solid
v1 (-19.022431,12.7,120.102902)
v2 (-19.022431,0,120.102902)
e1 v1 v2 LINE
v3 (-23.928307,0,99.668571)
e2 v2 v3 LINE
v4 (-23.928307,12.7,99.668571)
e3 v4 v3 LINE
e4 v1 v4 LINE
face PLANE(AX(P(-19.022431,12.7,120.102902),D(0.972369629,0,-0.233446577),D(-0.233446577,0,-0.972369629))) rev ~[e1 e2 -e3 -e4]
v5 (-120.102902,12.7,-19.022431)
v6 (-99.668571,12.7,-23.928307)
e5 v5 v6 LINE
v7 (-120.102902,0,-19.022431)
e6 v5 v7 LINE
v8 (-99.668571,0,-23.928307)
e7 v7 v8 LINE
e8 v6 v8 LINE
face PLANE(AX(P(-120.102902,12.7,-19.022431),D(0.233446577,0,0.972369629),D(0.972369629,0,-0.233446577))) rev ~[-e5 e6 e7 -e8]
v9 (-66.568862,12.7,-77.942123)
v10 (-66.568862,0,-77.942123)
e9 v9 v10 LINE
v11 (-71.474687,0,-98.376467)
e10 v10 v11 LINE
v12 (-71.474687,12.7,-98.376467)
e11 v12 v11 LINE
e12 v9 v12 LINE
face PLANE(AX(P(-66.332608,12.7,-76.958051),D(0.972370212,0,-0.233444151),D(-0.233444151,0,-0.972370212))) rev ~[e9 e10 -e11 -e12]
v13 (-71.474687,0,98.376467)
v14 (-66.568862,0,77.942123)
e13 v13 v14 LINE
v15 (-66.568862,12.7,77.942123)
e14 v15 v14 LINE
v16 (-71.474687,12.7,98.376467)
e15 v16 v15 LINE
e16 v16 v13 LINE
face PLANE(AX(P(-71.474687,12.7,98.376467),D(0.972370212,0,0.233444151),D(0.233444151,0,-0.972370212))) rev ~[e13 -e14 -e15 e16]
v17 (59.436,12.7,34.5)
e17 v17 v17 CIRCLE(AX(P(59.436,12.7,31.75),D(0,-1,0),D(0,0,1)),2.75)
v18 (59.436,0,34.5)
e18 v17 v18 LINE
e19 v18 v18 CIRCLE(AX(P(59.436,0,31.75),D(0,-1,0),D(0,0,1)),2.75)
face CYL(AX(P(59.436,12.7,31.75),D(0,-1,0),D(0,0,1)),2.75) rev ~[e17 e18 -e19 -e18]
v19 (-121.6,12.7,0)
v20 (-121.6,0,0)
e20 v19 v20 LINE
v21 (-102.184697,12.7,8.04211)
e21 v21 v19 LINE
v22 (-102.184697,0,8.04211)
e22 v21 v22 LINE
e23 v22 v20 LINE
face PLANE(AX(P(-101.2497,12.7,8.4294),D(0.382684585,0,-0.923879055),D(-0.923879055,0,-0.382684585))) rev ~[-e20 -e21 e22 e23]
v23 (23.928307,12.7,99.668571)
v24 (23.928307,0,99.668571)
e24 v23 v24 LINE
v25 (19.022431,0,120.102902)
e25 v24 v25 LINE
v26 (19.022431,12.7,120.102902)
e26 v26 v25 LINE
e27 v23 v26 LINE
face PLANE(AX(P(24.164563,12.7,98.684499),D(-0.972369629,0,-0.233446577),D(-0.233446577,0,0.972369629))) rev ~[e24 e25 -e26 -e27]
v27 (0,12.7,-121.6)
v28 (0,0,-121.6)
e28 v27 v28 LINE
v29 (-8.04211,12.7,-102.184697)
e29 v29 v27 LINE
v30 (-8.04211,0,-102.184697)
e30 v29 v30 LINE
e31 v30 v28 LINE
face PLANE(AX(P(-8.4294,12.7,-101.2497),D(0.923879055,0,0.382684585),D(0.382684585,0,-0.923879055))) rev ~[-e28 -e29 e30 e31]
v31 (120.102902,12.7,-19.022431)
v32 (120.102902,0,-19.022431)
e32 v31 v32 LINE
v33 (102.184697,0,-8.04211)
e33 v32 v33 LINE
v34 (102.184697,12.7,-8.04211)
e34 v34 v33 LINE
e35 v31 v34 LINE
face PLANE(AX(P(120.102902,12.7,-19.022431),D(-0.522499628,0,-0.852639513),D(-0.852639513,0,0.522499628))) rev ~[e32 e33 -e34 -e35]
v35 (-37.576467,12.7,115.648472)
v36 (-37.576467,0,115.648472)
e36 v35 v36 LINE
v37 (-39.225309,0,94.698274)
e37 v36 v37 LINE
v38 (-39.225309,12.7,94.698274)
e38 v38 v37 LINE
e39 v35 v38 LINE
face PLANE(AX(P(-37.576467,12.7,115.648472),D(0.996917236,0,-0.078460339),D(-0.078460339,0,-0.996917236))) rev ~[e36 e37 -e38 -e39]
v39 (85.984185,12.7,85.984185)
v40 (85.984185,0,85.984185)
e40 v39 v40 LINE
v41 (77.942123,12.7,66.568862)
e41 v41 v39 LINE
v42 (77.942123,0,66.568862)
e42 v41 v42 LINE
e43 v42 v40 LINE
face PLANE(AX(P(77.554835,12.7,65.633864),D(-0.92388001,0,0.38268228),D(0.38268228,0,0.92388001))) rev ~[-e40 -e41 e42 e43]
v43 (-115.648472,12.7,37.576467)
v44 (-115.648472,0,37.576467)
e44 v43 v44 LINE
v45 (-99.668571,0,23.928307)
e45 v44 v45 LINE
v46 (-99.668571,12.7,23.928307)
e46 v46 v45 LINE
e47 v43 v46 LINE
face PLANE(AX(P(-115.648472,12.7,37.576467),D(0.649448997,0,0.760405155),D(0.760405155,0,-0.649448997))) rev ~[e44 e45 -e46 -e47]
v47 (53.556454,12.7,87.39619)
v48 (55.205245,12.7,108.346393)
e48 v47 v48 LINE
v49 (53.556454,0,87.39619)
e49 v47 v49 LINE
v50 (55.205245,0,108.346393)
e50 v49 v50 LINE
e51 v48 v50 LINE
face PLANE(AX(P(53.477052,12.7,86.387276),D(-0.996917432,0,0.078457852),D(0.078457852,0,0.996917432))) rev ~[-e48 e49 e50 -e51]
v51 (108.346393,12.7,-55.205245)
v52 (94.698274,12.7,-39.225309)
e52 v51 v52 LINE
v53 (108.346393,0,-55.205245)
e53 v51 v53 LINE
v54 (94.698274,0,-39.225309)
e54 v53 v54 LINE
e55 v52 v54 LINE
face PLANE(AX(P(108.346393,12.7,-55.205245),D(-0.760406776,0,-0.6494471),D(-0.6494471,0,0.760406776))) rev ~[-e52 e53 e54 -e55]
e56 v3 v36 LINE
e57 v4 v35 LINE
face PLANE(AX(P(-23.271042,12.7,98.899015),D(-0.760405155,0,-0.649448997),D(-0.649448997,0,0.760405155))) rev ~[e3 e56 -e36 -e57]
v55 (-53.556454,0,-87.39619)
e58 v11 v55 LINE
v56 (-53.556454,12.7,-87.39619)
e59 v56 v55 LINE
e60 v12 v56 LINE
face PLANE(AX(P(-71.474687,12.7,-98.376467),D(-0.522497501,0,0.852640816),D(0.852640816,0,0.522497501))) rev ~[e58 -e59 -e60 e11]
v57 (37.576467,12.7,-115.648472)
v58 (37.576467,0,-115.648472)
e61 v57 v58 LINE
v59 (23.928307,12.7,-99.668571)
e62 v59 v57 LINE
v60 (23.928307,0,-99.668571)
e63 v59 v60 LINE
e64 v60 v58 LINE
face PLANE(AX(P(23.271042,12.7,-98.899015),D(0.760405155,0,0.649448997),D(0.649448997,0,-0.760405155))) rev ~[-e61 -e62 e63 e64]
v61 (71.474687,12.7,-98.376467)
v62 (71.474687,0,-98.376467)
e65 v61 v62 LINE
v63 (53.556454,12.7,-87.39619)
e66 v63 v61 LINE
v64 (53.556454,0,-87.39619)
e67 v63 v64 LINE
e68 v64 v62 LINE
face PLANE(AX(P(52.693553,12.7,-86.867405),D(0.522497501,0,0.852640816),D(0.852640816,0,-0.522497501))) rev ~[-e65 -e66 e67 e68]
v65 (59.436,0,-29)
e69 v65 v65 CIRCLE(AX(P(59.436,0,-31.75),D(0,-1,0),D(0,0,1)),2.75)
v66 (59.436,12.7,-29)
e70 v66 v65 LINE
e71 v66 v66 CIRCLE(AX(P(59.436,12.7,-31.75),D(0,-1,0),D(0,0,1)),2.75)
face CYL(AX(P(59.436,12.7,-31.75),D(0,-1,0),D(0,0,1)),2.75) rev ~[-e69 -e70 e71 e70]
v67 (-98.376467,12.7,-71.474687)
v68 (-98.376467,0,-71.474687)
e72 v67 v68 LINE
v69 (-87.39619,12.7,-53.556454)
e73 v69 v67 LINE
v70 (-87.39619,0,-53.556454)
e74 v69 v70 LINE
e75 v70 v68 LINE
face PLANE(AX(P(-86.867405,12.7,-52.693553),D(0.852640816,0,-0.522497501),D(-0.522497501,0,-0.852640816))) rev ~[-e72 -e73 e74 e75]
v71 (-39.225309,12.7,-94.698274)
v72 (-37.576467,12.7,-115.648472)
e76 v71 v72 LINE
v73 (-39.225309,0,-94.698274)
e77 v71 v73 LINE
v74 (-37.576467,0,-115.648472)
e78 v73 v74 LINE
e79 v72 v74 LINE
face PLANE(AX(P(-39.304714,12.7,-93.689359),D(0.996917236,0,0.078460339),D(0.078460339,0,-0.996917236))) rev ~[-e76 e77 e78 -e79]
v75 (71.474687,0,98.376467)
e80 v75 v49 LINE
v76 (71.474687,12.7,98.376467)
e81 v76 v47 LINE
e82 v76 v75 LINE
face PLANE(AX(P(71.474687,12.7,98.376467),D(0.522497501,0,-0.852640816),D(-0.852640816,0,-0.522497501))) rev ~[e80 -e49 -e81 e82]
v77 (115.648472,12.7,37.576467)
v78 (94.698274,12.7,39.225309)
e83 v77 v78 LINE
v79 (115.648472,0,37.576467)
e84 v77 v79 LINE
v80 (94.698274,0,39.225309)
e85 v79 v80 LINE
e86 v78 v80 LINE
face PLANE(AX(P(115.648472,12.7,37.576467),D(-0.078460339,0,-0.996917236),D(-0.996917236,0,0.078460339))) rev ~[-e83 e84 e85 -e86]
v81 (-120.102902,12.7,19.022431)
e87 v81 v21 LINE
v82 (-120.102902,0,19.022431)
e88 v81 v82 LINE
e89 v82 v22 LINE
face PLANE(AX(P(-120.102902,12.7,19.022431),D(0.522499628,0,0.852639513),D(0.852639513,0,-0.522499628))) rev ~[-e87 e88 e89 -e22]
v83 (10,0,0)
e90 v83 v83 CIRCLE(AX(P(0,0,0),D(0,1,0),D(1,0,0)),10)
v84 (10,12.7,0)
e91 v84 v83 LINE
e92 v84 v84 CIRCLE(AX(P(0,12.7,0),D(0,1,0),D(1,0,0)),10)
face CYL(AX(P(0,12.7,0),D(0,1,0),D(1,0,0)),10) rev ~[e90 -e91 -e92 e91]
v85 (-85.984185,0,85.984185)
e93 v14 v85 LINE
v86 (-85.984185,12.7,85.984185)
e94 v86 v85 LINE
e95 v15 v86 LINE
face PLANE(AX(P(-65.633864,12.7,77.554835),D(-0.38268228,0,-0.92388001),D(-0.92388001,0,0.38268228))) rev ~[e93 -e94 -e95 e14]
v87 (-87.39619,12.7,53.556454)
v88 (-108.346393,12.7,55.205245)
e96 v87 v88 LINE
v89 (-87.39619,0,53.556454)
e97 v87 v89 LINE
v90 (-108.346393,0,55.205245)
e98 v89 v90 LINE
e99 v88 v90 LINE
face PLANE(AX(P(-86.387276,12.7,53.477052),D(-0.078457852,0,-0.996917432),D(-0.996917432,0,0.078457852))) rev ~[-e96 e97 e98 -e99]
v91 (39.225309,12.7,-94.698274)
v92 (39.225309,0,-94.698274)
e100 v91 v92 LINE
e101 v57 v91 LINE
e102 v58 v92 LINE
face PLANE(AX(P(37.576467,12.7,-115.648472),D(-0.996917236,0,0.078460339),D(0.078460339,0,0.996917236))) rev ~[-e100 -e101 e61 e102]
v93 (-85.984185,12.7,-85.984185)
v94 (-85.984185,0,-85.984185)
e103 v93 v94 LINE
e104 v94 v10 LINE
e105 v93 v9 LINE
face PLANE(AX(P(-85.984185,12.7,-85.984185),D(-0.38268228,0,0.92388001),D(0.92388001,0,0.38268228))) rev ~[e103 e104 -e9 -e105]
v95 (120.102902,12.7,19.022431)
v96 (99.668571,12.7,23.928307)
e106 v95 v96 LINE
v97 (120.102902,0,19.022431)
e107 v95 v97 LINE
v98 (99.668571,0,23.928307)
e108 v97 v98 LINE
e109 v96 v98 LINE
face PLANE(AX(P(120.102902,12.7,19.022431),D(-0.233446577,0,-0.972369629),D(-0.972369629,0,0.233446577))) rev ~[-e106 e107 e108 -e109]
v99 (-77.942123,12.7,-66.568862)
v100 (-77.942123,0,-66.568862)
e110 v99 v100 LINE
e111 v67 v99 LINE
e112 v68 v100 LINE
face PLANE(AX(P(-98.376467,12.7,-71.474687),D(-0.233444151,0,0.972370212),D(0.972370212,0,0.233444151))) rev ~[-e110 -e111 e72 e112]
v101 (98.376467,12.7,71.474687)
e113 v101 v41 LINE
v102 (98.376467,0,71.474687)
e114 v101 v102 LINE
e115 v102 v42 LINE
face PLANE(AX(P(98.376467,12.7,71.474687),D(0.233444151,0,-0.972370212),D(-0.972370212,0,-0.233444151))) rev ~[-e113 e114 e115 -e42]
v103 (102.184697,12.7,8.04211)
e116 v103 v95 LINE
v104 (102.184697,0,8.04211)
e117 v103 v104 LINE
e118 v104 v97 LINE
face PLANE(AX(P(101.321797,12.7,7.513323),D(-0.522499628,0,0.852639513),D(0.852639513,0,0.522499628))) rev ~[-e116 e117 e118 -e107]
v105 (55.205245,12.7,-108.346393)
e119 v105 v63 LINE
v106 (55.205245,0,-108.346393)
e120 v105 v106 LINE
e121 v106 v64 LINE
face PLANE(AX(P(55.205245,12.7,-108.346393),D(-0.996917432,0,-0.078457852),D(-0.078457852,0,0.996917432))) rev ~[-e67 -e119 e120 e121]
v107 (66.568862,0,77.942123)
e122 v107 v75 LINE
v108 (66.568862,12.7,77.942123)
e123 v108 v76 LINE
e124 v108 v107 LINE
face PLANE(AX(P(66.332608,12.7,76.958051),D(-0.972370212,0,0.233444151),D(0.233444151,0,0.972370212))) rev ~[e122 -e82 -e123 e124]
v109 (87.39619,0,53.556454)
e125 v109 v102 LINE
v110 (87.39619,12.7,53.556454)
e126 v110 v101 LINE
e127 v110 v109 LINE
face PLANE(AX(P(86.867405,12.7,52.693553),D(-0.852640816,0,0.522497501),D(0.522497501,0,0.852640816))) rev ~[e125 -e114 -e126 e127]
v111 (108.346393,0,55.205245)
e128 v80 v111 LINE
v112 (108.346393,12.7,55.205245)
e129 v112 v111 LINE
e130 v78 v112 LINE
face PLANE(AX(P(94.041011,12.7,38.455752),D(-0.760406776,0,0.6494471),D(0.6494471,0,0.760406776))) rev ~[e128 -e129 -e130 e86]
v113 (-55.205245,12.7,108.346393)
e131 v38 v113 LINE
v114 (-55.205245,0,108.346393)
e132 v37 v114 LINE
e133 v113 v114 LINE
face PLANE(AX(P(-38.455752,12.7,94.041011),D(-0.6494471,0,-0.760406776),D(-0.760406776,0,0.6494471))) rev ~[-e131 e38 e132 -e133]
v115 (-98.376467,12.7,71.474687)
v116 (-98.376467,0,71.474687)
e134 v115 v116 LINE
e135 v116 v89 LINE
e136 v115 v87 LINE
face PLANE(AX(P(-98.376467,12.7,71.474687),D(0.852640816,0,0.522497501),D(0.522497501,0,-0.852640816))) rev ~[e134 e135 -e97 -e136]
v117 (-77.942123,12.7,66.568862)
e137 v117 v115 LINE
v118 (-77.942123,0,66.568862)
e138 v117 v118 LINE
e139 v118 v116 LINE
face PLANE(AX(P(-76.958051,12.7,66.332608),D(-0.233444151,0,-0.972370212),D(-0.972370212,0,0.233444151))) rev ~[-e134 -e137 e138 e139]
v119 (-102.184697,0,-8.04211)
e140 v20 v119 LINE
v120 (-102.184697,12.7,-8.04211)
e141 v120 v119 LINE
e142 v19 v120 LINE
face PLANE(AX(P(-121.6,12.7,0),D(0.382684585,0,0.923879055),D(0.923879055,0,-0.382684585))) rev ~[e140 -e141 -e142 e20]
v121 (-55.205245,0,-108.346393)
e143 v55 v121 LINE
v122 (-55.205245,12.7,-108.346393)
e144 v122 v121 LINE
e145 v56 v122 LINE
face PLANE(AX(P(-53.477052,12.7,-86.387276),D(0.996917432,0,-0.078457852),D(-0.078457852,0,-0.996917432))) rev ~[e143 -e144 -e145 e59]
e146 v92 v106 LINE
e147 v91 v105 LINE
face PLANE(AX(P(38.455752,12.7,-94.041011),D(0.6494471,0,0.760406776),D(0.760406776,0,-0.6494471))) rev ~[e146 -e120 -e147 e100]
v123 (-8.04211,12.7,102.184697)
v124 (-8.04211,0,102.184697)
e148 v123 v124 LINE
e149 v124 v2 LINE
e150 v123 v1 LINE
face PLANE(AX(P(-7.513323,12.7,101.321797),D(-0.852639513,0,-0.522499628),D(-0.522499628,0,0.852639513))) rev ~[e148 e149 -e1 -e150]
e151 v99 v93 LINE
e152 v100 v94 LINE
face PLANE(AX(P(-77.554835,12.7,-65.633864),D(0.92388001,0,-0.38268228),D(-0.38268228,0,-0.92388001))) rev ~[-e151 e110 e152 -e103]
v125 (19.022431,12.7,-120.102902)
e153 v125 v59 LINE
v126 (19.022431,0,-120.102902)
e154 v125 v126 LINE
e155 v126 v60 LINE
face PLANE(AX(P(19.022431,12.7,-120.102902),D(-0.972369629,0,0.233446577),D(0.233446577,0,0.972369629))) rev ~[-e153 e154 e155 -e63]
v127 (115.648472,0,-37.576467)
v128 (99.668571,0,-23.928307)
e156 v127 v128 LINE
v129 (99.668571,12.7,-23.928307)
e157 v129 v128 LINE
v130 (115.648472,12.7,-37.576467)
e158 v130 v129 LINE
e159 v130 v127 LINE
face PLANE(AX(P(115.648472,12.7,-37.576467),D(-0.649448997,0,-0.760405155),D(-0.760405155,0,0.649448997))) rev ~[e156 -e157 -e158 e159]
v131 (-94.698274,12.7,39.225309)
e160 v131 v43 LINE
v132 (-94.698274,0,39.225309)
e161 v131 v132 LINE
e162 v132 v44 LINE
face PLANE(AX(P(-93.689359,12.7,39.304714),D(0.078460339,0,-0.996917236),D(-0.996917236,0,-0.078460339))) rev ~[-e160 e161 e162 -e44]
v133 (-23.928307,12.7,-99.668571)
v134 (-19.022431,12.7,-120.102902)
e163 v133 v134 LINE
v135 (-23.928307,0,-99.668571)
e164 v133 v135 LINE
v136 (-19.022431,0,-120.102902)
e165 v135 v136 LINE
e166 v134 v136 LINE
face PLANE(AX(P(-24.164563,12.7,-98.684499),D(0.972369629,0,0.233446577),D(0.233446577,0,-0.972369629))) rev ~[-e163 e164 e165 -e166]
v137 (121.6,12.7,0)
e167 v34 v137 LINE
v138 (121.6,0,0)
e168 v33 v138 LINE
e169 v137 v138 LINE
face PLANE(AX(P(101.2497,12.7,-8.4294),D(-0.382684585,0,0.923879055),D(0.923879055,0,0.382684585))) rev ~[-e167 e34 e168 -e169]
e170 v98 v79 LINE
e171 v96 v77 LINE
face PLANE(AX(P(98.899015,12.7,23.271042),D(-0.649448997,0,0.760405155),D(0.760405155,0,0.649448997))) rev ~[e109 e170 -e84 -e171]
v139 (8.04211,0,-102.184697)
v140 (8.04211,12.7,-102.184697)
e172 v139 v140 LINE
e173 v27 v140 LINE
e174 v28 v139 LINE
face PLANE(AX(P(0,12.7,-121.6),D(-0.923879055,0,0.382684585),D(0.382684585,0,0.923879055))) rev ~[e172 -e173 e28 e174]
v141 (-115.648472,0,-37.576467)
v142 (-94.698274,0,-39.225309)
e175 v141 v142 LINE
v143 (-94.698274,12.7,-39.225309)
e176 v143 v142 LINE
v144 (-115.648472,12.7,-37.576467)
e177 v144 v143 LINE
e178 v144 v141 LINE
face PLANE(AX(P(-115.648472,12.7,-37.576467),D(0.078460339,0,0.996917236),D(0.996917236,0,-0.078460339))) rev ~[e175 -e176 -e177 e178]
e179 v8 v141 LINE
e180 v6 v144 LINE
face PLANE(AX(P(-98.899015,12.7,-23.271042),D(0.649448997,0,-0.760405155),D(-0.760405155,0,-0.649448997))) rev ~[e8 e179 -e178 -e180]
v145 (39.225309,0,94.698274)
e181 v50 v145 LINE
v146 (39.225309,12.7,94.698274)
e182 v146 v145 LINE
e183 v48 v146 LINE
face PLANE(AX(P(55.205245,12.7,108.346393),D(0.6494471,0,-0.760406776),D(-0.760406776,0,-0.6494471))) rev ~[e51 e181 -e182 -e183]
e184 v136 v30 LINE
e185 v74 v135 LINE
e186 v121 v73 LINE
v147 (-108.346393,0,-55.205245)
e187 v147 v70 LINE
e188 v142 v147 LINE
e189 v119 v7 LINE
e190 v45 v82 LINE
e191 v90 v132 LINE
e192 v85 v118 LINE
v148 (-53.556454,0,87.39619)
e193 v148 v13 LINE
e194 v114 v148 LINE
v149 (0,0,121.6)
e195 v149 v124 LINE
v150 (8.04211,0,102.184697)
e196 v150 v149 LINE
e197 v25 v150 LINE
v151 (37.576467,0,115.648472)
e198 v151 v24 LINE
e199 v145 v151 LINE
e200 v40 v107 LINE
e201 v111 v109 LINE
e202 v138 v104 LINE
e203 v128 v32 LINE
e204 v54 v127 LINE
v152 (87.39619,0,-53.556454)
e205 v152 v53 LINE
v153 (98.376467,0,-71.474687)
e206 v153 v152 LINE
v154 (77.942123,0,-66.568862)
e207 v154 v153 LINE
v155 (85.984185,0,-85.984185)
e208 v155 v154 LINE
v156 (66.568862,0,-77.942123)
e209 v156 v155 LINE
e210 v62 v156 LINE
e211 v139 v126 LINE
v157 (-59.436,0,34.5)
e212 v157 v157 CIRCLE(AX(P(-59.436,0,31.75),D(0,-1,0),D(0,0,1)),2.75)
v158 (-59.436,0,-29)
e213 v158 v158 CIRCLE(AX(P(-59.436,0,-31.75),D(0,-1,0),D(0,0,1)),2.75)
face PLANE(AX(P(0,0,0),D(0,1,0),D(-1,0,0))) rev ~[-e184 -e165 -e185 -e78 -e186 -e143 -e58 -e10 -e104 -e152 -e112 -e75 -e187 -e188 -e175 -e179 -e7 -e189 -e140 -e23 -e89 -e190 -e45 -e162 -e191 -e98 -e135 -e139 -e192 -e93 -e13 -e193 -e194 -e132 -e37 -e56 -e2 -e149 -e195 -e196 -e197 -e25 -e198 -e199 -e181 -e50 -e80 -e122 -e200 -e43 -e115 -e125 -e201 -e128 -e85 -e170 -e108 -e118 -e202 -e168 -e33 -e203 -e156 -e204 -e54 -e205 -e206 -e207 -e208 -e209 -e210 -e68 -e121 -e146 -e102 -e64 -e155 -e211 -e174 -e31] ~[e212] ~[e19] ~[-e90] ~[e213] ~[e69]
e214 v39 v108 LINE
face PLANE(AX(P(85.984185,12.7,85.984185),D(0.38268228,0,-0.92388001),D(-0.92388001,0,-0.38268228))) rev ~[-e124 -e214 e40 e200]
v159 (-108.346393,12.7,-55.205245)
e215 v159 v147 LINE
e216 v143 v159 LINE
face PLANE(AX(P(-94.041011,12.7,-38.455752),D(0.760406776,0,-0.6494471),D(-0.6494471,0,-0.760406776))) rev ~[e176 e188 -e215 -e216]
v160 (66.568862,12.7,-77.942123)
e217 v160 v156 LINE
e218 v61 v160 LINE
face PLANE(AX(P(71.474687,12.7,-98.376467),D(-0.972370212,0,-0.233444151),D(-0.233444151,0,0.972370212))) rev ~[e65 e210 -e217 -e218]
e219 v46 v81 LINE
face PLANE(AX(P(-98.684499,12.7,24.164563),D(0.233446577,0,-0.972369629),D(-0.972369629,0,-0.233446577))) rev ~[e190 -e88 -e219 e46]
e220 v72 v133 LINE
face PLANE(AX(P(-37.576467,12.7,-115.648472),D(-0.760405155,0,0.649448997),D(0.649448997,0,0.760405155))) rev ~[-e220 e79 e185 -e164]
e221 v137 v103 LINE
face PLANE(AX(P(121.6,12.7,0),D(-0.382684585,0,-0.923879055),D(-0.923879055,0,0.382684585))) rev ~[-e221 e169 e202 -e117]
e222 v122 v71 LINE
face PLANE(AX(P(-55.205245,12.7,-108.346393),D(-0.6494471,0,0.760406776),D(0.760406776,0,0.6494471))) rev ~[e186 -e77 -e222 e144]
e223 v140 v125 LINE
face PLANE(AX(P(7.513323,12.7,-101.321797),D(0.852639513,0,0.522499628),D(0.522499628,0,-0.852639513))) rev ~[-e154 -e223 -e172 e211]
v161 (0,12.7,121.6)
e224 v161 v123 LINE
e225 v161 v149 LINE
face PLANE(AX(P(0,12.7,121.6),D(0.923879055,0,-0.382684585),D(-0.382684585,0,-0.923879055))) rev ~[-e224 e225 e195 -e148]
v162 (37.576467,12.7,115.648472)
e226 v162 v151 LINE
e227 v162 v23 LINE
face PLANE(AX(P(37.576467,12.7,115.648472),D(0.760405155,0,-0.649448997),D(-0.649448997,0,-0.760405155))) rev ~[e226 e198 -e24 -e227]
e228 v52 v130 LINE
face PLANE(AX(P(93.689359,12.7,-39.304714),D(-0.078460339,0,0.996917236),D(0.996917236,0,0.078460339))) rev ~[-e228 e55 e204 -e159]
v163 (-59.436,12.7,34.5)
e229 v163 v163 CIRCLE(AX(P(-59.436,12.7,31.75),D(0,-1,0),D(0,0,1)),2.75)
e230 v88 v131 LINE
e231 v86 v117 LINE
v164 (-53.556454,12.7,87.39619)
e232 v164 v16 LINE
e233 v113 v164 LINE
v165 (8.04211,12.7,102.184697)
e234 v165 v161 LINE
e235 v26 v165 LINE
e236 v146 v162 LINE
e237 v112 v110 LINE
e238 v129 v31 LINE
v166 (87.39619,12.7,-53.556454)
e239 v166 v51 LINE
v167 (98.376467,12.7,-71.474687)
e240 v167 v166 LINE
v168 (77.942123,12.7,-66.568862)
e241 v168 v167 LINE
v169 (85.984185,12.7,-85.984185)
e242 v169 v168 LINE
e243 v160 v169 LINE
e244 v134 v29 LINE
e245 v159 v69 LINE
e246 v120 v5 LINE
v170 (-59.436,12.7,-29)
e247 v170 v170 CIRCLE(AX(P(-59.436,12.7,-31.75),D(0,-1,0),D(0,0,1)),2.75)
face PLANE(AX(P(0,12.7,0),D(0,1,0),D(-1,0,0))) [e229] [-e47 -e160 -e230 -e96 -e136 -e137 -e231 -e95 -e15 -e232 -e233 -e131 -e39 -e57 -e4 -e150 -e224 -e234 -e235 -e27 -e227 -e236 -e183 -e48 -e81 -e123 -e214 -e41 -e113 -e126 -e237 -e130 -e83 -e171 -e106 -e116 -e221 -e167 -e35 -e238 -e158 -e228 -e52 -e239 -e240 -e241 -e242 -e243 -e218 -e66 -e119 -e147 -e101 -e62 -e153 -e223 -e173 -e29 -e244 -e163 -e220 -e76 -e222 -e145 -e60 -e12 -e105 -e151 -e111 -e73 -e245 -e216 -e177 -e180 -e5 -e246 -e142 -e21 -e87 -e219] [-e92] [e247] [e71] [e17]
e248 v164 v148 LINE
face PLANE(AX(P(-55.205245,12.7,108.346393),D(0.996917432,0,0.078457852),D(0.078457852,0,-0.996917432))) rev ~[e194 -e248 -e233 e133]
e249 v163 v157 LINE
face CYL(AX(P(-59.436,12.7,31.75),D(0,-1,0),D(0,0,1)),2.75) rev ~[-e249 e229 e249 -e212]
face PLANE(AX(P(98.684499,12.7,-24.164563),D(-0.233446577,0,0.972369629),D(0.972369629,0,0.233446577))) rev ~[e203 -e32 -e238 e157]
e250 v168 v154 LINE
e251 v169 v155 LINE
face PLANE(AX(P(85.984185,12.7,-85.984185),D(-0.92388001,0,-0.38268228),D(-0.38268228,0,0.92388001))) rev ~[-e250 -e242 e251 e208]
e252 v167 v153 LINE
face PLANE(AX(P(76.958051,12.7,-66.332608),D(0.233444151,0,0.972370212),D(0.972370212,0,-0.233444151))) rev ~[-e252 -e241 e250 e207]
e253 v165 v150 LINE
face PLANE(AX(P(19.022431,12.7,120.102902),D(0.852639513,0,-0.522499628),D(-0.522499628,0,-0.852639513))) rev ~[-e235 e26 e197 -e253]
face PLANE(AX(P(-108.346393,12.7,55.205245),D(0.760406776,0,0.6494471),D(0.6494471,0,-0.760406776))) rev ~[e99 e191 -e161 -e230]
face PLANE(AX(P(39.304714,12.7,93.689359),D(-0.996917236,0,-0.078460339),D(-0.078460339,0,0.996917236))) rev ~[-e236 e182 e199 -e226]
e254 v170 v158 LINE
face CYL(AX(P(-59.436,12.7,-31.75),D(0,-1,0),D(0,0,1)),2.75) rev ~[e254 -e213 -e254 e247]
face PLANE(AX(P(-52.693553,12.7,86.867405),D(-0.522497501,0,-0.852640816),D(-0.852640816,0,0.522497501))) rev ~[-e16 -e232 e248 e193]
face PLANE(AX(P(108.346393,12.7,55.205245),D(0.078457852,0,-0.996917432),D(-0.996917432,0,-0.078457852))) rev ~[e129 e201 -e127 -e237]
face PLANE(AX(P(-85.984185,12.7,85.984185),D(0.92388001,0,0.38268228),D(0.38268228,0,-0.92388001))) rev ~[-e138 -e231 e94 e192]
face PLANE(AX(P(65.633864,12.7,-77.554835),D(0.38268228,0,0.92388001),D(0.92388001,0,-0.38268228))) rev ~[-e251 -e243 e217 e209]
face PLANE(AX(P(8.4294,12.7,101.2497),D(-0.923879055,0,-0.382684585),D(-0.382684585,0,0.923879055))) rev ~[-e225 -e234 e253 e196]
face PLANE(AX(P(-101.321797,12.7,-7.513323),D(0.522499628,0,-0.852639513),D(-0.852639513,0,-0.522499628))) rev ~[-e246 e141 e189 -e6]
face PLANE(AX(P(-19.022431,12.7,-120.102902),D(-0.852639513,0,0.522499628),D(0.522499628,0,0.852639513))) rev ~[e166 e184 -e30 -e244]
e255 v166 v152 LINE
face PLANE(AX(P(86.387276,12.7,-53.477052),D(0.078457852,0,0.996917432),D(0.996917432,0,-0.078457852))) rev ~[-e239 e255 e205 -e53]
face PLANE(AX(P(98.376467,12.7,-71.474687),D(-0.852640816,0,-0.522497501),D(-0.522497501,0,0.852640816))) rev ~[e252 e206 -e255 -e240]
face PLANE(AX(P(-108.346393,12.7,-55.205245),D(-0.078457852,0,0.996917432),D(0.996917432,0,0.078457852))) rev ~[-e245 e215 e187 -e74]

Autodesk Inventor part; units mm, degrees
ref_plane "YZ Plane" through (0, 0, 0) normal (1, 0, 0) x (0, 1, 0)
ref_plane "XZ Plane" through (0, 0, 0) normal (0, 1, 0) x (-1, 0, 0)
ref_plane "XY Plane" through (0, 0, 0) normal (0, 0, 1) x (1, 0, 0)
sketch "Sketch1" plane through (0, 0, 0) normal (0, 1, 0) x (-1, 0, 0)
  circle A0 centre (0, 0) radius 101.6
  dimension "d0" = 203.2
extrude "Extrusion1" add sketch "Sketch1" along normal blind 12.7
sketch "Sketch2" plane through (0, 12.7, 0) normal (0, 1, 0) x (1, 0, 0)
  line L0 (-8.4294, 101.2497) -> (0, 121.6)
  line L1 (0, 121.6) -> (8.4294, 101.2497)
  circle A0 centre (0, 0) radius 101.6 projected
  line L2 (0, 0) -> (0, 122.8461)
  circle A1 centre (0, 0) radius 101.6 projected
  arc A2 (8.4294, 101.2497) -> (-8.4294, 101.2497) centre (0, 0) ccw
  point P0 (0, 101.6)
  dimension "d3" = 45
  dimension "d4" = 20
extrude "Extrusion2" add sketch "Sketch2" against normal up to surface (12.7 mm away) contours L0 L2 A0 | L1 A0 L2
pattern_circular "Circular Pattern1" count 40 over 360 about axis through (0, 0, 0) along (0, 1, 0) of "Extrusion2"
sketch "Sketch3" plane through (0, 12.7, 0) normal (0, 1, 0) x (1, 0, 0)
  circle A0 centre (0, 0) radius 10
  dimension "d10" = 20
extrude "Extrusion3" cut sketch "Sketch3" against normal through all
sketch "Sketch5" plane through (0, 12.7, 0) normal (0, 1, 0) x (1, 0, 0)
  line L0 (-59.436, 31.75) -> (59.436, 31.75)
  line L1 (59.436, 31.75) -> (59.436, -31.75)
  line L2 (59.436, -31.75) -> (-59.436, -31.75)
  line L3 (-59.436, -31.75) -> (-59.436, 31.75)
  circle A0 centre (0, 0) radius 10 projected
  line L4 (-59.436, 31.75) -> (59.436, -31.75) construction
  line L5 (59.436, 31.75) -> (-59.436, -31.75) construction
  dimension "d22" = 63.5
  dimension "d23" = 118.872
hole "Hole1" at (-59.436, 12.7, -31.75) at (-59.436, 12.7, 31.75) at (59.436, 12.7, 31.75) at (59.436, 12.7, -31.75) direction (0, -1, 0) diameter 5.5 end through all clearance for "Countersunk Flat Head Screw ISO 2009/7046" size "M5" standard "ISO"
properties part number "BIG ASS GEAR"
